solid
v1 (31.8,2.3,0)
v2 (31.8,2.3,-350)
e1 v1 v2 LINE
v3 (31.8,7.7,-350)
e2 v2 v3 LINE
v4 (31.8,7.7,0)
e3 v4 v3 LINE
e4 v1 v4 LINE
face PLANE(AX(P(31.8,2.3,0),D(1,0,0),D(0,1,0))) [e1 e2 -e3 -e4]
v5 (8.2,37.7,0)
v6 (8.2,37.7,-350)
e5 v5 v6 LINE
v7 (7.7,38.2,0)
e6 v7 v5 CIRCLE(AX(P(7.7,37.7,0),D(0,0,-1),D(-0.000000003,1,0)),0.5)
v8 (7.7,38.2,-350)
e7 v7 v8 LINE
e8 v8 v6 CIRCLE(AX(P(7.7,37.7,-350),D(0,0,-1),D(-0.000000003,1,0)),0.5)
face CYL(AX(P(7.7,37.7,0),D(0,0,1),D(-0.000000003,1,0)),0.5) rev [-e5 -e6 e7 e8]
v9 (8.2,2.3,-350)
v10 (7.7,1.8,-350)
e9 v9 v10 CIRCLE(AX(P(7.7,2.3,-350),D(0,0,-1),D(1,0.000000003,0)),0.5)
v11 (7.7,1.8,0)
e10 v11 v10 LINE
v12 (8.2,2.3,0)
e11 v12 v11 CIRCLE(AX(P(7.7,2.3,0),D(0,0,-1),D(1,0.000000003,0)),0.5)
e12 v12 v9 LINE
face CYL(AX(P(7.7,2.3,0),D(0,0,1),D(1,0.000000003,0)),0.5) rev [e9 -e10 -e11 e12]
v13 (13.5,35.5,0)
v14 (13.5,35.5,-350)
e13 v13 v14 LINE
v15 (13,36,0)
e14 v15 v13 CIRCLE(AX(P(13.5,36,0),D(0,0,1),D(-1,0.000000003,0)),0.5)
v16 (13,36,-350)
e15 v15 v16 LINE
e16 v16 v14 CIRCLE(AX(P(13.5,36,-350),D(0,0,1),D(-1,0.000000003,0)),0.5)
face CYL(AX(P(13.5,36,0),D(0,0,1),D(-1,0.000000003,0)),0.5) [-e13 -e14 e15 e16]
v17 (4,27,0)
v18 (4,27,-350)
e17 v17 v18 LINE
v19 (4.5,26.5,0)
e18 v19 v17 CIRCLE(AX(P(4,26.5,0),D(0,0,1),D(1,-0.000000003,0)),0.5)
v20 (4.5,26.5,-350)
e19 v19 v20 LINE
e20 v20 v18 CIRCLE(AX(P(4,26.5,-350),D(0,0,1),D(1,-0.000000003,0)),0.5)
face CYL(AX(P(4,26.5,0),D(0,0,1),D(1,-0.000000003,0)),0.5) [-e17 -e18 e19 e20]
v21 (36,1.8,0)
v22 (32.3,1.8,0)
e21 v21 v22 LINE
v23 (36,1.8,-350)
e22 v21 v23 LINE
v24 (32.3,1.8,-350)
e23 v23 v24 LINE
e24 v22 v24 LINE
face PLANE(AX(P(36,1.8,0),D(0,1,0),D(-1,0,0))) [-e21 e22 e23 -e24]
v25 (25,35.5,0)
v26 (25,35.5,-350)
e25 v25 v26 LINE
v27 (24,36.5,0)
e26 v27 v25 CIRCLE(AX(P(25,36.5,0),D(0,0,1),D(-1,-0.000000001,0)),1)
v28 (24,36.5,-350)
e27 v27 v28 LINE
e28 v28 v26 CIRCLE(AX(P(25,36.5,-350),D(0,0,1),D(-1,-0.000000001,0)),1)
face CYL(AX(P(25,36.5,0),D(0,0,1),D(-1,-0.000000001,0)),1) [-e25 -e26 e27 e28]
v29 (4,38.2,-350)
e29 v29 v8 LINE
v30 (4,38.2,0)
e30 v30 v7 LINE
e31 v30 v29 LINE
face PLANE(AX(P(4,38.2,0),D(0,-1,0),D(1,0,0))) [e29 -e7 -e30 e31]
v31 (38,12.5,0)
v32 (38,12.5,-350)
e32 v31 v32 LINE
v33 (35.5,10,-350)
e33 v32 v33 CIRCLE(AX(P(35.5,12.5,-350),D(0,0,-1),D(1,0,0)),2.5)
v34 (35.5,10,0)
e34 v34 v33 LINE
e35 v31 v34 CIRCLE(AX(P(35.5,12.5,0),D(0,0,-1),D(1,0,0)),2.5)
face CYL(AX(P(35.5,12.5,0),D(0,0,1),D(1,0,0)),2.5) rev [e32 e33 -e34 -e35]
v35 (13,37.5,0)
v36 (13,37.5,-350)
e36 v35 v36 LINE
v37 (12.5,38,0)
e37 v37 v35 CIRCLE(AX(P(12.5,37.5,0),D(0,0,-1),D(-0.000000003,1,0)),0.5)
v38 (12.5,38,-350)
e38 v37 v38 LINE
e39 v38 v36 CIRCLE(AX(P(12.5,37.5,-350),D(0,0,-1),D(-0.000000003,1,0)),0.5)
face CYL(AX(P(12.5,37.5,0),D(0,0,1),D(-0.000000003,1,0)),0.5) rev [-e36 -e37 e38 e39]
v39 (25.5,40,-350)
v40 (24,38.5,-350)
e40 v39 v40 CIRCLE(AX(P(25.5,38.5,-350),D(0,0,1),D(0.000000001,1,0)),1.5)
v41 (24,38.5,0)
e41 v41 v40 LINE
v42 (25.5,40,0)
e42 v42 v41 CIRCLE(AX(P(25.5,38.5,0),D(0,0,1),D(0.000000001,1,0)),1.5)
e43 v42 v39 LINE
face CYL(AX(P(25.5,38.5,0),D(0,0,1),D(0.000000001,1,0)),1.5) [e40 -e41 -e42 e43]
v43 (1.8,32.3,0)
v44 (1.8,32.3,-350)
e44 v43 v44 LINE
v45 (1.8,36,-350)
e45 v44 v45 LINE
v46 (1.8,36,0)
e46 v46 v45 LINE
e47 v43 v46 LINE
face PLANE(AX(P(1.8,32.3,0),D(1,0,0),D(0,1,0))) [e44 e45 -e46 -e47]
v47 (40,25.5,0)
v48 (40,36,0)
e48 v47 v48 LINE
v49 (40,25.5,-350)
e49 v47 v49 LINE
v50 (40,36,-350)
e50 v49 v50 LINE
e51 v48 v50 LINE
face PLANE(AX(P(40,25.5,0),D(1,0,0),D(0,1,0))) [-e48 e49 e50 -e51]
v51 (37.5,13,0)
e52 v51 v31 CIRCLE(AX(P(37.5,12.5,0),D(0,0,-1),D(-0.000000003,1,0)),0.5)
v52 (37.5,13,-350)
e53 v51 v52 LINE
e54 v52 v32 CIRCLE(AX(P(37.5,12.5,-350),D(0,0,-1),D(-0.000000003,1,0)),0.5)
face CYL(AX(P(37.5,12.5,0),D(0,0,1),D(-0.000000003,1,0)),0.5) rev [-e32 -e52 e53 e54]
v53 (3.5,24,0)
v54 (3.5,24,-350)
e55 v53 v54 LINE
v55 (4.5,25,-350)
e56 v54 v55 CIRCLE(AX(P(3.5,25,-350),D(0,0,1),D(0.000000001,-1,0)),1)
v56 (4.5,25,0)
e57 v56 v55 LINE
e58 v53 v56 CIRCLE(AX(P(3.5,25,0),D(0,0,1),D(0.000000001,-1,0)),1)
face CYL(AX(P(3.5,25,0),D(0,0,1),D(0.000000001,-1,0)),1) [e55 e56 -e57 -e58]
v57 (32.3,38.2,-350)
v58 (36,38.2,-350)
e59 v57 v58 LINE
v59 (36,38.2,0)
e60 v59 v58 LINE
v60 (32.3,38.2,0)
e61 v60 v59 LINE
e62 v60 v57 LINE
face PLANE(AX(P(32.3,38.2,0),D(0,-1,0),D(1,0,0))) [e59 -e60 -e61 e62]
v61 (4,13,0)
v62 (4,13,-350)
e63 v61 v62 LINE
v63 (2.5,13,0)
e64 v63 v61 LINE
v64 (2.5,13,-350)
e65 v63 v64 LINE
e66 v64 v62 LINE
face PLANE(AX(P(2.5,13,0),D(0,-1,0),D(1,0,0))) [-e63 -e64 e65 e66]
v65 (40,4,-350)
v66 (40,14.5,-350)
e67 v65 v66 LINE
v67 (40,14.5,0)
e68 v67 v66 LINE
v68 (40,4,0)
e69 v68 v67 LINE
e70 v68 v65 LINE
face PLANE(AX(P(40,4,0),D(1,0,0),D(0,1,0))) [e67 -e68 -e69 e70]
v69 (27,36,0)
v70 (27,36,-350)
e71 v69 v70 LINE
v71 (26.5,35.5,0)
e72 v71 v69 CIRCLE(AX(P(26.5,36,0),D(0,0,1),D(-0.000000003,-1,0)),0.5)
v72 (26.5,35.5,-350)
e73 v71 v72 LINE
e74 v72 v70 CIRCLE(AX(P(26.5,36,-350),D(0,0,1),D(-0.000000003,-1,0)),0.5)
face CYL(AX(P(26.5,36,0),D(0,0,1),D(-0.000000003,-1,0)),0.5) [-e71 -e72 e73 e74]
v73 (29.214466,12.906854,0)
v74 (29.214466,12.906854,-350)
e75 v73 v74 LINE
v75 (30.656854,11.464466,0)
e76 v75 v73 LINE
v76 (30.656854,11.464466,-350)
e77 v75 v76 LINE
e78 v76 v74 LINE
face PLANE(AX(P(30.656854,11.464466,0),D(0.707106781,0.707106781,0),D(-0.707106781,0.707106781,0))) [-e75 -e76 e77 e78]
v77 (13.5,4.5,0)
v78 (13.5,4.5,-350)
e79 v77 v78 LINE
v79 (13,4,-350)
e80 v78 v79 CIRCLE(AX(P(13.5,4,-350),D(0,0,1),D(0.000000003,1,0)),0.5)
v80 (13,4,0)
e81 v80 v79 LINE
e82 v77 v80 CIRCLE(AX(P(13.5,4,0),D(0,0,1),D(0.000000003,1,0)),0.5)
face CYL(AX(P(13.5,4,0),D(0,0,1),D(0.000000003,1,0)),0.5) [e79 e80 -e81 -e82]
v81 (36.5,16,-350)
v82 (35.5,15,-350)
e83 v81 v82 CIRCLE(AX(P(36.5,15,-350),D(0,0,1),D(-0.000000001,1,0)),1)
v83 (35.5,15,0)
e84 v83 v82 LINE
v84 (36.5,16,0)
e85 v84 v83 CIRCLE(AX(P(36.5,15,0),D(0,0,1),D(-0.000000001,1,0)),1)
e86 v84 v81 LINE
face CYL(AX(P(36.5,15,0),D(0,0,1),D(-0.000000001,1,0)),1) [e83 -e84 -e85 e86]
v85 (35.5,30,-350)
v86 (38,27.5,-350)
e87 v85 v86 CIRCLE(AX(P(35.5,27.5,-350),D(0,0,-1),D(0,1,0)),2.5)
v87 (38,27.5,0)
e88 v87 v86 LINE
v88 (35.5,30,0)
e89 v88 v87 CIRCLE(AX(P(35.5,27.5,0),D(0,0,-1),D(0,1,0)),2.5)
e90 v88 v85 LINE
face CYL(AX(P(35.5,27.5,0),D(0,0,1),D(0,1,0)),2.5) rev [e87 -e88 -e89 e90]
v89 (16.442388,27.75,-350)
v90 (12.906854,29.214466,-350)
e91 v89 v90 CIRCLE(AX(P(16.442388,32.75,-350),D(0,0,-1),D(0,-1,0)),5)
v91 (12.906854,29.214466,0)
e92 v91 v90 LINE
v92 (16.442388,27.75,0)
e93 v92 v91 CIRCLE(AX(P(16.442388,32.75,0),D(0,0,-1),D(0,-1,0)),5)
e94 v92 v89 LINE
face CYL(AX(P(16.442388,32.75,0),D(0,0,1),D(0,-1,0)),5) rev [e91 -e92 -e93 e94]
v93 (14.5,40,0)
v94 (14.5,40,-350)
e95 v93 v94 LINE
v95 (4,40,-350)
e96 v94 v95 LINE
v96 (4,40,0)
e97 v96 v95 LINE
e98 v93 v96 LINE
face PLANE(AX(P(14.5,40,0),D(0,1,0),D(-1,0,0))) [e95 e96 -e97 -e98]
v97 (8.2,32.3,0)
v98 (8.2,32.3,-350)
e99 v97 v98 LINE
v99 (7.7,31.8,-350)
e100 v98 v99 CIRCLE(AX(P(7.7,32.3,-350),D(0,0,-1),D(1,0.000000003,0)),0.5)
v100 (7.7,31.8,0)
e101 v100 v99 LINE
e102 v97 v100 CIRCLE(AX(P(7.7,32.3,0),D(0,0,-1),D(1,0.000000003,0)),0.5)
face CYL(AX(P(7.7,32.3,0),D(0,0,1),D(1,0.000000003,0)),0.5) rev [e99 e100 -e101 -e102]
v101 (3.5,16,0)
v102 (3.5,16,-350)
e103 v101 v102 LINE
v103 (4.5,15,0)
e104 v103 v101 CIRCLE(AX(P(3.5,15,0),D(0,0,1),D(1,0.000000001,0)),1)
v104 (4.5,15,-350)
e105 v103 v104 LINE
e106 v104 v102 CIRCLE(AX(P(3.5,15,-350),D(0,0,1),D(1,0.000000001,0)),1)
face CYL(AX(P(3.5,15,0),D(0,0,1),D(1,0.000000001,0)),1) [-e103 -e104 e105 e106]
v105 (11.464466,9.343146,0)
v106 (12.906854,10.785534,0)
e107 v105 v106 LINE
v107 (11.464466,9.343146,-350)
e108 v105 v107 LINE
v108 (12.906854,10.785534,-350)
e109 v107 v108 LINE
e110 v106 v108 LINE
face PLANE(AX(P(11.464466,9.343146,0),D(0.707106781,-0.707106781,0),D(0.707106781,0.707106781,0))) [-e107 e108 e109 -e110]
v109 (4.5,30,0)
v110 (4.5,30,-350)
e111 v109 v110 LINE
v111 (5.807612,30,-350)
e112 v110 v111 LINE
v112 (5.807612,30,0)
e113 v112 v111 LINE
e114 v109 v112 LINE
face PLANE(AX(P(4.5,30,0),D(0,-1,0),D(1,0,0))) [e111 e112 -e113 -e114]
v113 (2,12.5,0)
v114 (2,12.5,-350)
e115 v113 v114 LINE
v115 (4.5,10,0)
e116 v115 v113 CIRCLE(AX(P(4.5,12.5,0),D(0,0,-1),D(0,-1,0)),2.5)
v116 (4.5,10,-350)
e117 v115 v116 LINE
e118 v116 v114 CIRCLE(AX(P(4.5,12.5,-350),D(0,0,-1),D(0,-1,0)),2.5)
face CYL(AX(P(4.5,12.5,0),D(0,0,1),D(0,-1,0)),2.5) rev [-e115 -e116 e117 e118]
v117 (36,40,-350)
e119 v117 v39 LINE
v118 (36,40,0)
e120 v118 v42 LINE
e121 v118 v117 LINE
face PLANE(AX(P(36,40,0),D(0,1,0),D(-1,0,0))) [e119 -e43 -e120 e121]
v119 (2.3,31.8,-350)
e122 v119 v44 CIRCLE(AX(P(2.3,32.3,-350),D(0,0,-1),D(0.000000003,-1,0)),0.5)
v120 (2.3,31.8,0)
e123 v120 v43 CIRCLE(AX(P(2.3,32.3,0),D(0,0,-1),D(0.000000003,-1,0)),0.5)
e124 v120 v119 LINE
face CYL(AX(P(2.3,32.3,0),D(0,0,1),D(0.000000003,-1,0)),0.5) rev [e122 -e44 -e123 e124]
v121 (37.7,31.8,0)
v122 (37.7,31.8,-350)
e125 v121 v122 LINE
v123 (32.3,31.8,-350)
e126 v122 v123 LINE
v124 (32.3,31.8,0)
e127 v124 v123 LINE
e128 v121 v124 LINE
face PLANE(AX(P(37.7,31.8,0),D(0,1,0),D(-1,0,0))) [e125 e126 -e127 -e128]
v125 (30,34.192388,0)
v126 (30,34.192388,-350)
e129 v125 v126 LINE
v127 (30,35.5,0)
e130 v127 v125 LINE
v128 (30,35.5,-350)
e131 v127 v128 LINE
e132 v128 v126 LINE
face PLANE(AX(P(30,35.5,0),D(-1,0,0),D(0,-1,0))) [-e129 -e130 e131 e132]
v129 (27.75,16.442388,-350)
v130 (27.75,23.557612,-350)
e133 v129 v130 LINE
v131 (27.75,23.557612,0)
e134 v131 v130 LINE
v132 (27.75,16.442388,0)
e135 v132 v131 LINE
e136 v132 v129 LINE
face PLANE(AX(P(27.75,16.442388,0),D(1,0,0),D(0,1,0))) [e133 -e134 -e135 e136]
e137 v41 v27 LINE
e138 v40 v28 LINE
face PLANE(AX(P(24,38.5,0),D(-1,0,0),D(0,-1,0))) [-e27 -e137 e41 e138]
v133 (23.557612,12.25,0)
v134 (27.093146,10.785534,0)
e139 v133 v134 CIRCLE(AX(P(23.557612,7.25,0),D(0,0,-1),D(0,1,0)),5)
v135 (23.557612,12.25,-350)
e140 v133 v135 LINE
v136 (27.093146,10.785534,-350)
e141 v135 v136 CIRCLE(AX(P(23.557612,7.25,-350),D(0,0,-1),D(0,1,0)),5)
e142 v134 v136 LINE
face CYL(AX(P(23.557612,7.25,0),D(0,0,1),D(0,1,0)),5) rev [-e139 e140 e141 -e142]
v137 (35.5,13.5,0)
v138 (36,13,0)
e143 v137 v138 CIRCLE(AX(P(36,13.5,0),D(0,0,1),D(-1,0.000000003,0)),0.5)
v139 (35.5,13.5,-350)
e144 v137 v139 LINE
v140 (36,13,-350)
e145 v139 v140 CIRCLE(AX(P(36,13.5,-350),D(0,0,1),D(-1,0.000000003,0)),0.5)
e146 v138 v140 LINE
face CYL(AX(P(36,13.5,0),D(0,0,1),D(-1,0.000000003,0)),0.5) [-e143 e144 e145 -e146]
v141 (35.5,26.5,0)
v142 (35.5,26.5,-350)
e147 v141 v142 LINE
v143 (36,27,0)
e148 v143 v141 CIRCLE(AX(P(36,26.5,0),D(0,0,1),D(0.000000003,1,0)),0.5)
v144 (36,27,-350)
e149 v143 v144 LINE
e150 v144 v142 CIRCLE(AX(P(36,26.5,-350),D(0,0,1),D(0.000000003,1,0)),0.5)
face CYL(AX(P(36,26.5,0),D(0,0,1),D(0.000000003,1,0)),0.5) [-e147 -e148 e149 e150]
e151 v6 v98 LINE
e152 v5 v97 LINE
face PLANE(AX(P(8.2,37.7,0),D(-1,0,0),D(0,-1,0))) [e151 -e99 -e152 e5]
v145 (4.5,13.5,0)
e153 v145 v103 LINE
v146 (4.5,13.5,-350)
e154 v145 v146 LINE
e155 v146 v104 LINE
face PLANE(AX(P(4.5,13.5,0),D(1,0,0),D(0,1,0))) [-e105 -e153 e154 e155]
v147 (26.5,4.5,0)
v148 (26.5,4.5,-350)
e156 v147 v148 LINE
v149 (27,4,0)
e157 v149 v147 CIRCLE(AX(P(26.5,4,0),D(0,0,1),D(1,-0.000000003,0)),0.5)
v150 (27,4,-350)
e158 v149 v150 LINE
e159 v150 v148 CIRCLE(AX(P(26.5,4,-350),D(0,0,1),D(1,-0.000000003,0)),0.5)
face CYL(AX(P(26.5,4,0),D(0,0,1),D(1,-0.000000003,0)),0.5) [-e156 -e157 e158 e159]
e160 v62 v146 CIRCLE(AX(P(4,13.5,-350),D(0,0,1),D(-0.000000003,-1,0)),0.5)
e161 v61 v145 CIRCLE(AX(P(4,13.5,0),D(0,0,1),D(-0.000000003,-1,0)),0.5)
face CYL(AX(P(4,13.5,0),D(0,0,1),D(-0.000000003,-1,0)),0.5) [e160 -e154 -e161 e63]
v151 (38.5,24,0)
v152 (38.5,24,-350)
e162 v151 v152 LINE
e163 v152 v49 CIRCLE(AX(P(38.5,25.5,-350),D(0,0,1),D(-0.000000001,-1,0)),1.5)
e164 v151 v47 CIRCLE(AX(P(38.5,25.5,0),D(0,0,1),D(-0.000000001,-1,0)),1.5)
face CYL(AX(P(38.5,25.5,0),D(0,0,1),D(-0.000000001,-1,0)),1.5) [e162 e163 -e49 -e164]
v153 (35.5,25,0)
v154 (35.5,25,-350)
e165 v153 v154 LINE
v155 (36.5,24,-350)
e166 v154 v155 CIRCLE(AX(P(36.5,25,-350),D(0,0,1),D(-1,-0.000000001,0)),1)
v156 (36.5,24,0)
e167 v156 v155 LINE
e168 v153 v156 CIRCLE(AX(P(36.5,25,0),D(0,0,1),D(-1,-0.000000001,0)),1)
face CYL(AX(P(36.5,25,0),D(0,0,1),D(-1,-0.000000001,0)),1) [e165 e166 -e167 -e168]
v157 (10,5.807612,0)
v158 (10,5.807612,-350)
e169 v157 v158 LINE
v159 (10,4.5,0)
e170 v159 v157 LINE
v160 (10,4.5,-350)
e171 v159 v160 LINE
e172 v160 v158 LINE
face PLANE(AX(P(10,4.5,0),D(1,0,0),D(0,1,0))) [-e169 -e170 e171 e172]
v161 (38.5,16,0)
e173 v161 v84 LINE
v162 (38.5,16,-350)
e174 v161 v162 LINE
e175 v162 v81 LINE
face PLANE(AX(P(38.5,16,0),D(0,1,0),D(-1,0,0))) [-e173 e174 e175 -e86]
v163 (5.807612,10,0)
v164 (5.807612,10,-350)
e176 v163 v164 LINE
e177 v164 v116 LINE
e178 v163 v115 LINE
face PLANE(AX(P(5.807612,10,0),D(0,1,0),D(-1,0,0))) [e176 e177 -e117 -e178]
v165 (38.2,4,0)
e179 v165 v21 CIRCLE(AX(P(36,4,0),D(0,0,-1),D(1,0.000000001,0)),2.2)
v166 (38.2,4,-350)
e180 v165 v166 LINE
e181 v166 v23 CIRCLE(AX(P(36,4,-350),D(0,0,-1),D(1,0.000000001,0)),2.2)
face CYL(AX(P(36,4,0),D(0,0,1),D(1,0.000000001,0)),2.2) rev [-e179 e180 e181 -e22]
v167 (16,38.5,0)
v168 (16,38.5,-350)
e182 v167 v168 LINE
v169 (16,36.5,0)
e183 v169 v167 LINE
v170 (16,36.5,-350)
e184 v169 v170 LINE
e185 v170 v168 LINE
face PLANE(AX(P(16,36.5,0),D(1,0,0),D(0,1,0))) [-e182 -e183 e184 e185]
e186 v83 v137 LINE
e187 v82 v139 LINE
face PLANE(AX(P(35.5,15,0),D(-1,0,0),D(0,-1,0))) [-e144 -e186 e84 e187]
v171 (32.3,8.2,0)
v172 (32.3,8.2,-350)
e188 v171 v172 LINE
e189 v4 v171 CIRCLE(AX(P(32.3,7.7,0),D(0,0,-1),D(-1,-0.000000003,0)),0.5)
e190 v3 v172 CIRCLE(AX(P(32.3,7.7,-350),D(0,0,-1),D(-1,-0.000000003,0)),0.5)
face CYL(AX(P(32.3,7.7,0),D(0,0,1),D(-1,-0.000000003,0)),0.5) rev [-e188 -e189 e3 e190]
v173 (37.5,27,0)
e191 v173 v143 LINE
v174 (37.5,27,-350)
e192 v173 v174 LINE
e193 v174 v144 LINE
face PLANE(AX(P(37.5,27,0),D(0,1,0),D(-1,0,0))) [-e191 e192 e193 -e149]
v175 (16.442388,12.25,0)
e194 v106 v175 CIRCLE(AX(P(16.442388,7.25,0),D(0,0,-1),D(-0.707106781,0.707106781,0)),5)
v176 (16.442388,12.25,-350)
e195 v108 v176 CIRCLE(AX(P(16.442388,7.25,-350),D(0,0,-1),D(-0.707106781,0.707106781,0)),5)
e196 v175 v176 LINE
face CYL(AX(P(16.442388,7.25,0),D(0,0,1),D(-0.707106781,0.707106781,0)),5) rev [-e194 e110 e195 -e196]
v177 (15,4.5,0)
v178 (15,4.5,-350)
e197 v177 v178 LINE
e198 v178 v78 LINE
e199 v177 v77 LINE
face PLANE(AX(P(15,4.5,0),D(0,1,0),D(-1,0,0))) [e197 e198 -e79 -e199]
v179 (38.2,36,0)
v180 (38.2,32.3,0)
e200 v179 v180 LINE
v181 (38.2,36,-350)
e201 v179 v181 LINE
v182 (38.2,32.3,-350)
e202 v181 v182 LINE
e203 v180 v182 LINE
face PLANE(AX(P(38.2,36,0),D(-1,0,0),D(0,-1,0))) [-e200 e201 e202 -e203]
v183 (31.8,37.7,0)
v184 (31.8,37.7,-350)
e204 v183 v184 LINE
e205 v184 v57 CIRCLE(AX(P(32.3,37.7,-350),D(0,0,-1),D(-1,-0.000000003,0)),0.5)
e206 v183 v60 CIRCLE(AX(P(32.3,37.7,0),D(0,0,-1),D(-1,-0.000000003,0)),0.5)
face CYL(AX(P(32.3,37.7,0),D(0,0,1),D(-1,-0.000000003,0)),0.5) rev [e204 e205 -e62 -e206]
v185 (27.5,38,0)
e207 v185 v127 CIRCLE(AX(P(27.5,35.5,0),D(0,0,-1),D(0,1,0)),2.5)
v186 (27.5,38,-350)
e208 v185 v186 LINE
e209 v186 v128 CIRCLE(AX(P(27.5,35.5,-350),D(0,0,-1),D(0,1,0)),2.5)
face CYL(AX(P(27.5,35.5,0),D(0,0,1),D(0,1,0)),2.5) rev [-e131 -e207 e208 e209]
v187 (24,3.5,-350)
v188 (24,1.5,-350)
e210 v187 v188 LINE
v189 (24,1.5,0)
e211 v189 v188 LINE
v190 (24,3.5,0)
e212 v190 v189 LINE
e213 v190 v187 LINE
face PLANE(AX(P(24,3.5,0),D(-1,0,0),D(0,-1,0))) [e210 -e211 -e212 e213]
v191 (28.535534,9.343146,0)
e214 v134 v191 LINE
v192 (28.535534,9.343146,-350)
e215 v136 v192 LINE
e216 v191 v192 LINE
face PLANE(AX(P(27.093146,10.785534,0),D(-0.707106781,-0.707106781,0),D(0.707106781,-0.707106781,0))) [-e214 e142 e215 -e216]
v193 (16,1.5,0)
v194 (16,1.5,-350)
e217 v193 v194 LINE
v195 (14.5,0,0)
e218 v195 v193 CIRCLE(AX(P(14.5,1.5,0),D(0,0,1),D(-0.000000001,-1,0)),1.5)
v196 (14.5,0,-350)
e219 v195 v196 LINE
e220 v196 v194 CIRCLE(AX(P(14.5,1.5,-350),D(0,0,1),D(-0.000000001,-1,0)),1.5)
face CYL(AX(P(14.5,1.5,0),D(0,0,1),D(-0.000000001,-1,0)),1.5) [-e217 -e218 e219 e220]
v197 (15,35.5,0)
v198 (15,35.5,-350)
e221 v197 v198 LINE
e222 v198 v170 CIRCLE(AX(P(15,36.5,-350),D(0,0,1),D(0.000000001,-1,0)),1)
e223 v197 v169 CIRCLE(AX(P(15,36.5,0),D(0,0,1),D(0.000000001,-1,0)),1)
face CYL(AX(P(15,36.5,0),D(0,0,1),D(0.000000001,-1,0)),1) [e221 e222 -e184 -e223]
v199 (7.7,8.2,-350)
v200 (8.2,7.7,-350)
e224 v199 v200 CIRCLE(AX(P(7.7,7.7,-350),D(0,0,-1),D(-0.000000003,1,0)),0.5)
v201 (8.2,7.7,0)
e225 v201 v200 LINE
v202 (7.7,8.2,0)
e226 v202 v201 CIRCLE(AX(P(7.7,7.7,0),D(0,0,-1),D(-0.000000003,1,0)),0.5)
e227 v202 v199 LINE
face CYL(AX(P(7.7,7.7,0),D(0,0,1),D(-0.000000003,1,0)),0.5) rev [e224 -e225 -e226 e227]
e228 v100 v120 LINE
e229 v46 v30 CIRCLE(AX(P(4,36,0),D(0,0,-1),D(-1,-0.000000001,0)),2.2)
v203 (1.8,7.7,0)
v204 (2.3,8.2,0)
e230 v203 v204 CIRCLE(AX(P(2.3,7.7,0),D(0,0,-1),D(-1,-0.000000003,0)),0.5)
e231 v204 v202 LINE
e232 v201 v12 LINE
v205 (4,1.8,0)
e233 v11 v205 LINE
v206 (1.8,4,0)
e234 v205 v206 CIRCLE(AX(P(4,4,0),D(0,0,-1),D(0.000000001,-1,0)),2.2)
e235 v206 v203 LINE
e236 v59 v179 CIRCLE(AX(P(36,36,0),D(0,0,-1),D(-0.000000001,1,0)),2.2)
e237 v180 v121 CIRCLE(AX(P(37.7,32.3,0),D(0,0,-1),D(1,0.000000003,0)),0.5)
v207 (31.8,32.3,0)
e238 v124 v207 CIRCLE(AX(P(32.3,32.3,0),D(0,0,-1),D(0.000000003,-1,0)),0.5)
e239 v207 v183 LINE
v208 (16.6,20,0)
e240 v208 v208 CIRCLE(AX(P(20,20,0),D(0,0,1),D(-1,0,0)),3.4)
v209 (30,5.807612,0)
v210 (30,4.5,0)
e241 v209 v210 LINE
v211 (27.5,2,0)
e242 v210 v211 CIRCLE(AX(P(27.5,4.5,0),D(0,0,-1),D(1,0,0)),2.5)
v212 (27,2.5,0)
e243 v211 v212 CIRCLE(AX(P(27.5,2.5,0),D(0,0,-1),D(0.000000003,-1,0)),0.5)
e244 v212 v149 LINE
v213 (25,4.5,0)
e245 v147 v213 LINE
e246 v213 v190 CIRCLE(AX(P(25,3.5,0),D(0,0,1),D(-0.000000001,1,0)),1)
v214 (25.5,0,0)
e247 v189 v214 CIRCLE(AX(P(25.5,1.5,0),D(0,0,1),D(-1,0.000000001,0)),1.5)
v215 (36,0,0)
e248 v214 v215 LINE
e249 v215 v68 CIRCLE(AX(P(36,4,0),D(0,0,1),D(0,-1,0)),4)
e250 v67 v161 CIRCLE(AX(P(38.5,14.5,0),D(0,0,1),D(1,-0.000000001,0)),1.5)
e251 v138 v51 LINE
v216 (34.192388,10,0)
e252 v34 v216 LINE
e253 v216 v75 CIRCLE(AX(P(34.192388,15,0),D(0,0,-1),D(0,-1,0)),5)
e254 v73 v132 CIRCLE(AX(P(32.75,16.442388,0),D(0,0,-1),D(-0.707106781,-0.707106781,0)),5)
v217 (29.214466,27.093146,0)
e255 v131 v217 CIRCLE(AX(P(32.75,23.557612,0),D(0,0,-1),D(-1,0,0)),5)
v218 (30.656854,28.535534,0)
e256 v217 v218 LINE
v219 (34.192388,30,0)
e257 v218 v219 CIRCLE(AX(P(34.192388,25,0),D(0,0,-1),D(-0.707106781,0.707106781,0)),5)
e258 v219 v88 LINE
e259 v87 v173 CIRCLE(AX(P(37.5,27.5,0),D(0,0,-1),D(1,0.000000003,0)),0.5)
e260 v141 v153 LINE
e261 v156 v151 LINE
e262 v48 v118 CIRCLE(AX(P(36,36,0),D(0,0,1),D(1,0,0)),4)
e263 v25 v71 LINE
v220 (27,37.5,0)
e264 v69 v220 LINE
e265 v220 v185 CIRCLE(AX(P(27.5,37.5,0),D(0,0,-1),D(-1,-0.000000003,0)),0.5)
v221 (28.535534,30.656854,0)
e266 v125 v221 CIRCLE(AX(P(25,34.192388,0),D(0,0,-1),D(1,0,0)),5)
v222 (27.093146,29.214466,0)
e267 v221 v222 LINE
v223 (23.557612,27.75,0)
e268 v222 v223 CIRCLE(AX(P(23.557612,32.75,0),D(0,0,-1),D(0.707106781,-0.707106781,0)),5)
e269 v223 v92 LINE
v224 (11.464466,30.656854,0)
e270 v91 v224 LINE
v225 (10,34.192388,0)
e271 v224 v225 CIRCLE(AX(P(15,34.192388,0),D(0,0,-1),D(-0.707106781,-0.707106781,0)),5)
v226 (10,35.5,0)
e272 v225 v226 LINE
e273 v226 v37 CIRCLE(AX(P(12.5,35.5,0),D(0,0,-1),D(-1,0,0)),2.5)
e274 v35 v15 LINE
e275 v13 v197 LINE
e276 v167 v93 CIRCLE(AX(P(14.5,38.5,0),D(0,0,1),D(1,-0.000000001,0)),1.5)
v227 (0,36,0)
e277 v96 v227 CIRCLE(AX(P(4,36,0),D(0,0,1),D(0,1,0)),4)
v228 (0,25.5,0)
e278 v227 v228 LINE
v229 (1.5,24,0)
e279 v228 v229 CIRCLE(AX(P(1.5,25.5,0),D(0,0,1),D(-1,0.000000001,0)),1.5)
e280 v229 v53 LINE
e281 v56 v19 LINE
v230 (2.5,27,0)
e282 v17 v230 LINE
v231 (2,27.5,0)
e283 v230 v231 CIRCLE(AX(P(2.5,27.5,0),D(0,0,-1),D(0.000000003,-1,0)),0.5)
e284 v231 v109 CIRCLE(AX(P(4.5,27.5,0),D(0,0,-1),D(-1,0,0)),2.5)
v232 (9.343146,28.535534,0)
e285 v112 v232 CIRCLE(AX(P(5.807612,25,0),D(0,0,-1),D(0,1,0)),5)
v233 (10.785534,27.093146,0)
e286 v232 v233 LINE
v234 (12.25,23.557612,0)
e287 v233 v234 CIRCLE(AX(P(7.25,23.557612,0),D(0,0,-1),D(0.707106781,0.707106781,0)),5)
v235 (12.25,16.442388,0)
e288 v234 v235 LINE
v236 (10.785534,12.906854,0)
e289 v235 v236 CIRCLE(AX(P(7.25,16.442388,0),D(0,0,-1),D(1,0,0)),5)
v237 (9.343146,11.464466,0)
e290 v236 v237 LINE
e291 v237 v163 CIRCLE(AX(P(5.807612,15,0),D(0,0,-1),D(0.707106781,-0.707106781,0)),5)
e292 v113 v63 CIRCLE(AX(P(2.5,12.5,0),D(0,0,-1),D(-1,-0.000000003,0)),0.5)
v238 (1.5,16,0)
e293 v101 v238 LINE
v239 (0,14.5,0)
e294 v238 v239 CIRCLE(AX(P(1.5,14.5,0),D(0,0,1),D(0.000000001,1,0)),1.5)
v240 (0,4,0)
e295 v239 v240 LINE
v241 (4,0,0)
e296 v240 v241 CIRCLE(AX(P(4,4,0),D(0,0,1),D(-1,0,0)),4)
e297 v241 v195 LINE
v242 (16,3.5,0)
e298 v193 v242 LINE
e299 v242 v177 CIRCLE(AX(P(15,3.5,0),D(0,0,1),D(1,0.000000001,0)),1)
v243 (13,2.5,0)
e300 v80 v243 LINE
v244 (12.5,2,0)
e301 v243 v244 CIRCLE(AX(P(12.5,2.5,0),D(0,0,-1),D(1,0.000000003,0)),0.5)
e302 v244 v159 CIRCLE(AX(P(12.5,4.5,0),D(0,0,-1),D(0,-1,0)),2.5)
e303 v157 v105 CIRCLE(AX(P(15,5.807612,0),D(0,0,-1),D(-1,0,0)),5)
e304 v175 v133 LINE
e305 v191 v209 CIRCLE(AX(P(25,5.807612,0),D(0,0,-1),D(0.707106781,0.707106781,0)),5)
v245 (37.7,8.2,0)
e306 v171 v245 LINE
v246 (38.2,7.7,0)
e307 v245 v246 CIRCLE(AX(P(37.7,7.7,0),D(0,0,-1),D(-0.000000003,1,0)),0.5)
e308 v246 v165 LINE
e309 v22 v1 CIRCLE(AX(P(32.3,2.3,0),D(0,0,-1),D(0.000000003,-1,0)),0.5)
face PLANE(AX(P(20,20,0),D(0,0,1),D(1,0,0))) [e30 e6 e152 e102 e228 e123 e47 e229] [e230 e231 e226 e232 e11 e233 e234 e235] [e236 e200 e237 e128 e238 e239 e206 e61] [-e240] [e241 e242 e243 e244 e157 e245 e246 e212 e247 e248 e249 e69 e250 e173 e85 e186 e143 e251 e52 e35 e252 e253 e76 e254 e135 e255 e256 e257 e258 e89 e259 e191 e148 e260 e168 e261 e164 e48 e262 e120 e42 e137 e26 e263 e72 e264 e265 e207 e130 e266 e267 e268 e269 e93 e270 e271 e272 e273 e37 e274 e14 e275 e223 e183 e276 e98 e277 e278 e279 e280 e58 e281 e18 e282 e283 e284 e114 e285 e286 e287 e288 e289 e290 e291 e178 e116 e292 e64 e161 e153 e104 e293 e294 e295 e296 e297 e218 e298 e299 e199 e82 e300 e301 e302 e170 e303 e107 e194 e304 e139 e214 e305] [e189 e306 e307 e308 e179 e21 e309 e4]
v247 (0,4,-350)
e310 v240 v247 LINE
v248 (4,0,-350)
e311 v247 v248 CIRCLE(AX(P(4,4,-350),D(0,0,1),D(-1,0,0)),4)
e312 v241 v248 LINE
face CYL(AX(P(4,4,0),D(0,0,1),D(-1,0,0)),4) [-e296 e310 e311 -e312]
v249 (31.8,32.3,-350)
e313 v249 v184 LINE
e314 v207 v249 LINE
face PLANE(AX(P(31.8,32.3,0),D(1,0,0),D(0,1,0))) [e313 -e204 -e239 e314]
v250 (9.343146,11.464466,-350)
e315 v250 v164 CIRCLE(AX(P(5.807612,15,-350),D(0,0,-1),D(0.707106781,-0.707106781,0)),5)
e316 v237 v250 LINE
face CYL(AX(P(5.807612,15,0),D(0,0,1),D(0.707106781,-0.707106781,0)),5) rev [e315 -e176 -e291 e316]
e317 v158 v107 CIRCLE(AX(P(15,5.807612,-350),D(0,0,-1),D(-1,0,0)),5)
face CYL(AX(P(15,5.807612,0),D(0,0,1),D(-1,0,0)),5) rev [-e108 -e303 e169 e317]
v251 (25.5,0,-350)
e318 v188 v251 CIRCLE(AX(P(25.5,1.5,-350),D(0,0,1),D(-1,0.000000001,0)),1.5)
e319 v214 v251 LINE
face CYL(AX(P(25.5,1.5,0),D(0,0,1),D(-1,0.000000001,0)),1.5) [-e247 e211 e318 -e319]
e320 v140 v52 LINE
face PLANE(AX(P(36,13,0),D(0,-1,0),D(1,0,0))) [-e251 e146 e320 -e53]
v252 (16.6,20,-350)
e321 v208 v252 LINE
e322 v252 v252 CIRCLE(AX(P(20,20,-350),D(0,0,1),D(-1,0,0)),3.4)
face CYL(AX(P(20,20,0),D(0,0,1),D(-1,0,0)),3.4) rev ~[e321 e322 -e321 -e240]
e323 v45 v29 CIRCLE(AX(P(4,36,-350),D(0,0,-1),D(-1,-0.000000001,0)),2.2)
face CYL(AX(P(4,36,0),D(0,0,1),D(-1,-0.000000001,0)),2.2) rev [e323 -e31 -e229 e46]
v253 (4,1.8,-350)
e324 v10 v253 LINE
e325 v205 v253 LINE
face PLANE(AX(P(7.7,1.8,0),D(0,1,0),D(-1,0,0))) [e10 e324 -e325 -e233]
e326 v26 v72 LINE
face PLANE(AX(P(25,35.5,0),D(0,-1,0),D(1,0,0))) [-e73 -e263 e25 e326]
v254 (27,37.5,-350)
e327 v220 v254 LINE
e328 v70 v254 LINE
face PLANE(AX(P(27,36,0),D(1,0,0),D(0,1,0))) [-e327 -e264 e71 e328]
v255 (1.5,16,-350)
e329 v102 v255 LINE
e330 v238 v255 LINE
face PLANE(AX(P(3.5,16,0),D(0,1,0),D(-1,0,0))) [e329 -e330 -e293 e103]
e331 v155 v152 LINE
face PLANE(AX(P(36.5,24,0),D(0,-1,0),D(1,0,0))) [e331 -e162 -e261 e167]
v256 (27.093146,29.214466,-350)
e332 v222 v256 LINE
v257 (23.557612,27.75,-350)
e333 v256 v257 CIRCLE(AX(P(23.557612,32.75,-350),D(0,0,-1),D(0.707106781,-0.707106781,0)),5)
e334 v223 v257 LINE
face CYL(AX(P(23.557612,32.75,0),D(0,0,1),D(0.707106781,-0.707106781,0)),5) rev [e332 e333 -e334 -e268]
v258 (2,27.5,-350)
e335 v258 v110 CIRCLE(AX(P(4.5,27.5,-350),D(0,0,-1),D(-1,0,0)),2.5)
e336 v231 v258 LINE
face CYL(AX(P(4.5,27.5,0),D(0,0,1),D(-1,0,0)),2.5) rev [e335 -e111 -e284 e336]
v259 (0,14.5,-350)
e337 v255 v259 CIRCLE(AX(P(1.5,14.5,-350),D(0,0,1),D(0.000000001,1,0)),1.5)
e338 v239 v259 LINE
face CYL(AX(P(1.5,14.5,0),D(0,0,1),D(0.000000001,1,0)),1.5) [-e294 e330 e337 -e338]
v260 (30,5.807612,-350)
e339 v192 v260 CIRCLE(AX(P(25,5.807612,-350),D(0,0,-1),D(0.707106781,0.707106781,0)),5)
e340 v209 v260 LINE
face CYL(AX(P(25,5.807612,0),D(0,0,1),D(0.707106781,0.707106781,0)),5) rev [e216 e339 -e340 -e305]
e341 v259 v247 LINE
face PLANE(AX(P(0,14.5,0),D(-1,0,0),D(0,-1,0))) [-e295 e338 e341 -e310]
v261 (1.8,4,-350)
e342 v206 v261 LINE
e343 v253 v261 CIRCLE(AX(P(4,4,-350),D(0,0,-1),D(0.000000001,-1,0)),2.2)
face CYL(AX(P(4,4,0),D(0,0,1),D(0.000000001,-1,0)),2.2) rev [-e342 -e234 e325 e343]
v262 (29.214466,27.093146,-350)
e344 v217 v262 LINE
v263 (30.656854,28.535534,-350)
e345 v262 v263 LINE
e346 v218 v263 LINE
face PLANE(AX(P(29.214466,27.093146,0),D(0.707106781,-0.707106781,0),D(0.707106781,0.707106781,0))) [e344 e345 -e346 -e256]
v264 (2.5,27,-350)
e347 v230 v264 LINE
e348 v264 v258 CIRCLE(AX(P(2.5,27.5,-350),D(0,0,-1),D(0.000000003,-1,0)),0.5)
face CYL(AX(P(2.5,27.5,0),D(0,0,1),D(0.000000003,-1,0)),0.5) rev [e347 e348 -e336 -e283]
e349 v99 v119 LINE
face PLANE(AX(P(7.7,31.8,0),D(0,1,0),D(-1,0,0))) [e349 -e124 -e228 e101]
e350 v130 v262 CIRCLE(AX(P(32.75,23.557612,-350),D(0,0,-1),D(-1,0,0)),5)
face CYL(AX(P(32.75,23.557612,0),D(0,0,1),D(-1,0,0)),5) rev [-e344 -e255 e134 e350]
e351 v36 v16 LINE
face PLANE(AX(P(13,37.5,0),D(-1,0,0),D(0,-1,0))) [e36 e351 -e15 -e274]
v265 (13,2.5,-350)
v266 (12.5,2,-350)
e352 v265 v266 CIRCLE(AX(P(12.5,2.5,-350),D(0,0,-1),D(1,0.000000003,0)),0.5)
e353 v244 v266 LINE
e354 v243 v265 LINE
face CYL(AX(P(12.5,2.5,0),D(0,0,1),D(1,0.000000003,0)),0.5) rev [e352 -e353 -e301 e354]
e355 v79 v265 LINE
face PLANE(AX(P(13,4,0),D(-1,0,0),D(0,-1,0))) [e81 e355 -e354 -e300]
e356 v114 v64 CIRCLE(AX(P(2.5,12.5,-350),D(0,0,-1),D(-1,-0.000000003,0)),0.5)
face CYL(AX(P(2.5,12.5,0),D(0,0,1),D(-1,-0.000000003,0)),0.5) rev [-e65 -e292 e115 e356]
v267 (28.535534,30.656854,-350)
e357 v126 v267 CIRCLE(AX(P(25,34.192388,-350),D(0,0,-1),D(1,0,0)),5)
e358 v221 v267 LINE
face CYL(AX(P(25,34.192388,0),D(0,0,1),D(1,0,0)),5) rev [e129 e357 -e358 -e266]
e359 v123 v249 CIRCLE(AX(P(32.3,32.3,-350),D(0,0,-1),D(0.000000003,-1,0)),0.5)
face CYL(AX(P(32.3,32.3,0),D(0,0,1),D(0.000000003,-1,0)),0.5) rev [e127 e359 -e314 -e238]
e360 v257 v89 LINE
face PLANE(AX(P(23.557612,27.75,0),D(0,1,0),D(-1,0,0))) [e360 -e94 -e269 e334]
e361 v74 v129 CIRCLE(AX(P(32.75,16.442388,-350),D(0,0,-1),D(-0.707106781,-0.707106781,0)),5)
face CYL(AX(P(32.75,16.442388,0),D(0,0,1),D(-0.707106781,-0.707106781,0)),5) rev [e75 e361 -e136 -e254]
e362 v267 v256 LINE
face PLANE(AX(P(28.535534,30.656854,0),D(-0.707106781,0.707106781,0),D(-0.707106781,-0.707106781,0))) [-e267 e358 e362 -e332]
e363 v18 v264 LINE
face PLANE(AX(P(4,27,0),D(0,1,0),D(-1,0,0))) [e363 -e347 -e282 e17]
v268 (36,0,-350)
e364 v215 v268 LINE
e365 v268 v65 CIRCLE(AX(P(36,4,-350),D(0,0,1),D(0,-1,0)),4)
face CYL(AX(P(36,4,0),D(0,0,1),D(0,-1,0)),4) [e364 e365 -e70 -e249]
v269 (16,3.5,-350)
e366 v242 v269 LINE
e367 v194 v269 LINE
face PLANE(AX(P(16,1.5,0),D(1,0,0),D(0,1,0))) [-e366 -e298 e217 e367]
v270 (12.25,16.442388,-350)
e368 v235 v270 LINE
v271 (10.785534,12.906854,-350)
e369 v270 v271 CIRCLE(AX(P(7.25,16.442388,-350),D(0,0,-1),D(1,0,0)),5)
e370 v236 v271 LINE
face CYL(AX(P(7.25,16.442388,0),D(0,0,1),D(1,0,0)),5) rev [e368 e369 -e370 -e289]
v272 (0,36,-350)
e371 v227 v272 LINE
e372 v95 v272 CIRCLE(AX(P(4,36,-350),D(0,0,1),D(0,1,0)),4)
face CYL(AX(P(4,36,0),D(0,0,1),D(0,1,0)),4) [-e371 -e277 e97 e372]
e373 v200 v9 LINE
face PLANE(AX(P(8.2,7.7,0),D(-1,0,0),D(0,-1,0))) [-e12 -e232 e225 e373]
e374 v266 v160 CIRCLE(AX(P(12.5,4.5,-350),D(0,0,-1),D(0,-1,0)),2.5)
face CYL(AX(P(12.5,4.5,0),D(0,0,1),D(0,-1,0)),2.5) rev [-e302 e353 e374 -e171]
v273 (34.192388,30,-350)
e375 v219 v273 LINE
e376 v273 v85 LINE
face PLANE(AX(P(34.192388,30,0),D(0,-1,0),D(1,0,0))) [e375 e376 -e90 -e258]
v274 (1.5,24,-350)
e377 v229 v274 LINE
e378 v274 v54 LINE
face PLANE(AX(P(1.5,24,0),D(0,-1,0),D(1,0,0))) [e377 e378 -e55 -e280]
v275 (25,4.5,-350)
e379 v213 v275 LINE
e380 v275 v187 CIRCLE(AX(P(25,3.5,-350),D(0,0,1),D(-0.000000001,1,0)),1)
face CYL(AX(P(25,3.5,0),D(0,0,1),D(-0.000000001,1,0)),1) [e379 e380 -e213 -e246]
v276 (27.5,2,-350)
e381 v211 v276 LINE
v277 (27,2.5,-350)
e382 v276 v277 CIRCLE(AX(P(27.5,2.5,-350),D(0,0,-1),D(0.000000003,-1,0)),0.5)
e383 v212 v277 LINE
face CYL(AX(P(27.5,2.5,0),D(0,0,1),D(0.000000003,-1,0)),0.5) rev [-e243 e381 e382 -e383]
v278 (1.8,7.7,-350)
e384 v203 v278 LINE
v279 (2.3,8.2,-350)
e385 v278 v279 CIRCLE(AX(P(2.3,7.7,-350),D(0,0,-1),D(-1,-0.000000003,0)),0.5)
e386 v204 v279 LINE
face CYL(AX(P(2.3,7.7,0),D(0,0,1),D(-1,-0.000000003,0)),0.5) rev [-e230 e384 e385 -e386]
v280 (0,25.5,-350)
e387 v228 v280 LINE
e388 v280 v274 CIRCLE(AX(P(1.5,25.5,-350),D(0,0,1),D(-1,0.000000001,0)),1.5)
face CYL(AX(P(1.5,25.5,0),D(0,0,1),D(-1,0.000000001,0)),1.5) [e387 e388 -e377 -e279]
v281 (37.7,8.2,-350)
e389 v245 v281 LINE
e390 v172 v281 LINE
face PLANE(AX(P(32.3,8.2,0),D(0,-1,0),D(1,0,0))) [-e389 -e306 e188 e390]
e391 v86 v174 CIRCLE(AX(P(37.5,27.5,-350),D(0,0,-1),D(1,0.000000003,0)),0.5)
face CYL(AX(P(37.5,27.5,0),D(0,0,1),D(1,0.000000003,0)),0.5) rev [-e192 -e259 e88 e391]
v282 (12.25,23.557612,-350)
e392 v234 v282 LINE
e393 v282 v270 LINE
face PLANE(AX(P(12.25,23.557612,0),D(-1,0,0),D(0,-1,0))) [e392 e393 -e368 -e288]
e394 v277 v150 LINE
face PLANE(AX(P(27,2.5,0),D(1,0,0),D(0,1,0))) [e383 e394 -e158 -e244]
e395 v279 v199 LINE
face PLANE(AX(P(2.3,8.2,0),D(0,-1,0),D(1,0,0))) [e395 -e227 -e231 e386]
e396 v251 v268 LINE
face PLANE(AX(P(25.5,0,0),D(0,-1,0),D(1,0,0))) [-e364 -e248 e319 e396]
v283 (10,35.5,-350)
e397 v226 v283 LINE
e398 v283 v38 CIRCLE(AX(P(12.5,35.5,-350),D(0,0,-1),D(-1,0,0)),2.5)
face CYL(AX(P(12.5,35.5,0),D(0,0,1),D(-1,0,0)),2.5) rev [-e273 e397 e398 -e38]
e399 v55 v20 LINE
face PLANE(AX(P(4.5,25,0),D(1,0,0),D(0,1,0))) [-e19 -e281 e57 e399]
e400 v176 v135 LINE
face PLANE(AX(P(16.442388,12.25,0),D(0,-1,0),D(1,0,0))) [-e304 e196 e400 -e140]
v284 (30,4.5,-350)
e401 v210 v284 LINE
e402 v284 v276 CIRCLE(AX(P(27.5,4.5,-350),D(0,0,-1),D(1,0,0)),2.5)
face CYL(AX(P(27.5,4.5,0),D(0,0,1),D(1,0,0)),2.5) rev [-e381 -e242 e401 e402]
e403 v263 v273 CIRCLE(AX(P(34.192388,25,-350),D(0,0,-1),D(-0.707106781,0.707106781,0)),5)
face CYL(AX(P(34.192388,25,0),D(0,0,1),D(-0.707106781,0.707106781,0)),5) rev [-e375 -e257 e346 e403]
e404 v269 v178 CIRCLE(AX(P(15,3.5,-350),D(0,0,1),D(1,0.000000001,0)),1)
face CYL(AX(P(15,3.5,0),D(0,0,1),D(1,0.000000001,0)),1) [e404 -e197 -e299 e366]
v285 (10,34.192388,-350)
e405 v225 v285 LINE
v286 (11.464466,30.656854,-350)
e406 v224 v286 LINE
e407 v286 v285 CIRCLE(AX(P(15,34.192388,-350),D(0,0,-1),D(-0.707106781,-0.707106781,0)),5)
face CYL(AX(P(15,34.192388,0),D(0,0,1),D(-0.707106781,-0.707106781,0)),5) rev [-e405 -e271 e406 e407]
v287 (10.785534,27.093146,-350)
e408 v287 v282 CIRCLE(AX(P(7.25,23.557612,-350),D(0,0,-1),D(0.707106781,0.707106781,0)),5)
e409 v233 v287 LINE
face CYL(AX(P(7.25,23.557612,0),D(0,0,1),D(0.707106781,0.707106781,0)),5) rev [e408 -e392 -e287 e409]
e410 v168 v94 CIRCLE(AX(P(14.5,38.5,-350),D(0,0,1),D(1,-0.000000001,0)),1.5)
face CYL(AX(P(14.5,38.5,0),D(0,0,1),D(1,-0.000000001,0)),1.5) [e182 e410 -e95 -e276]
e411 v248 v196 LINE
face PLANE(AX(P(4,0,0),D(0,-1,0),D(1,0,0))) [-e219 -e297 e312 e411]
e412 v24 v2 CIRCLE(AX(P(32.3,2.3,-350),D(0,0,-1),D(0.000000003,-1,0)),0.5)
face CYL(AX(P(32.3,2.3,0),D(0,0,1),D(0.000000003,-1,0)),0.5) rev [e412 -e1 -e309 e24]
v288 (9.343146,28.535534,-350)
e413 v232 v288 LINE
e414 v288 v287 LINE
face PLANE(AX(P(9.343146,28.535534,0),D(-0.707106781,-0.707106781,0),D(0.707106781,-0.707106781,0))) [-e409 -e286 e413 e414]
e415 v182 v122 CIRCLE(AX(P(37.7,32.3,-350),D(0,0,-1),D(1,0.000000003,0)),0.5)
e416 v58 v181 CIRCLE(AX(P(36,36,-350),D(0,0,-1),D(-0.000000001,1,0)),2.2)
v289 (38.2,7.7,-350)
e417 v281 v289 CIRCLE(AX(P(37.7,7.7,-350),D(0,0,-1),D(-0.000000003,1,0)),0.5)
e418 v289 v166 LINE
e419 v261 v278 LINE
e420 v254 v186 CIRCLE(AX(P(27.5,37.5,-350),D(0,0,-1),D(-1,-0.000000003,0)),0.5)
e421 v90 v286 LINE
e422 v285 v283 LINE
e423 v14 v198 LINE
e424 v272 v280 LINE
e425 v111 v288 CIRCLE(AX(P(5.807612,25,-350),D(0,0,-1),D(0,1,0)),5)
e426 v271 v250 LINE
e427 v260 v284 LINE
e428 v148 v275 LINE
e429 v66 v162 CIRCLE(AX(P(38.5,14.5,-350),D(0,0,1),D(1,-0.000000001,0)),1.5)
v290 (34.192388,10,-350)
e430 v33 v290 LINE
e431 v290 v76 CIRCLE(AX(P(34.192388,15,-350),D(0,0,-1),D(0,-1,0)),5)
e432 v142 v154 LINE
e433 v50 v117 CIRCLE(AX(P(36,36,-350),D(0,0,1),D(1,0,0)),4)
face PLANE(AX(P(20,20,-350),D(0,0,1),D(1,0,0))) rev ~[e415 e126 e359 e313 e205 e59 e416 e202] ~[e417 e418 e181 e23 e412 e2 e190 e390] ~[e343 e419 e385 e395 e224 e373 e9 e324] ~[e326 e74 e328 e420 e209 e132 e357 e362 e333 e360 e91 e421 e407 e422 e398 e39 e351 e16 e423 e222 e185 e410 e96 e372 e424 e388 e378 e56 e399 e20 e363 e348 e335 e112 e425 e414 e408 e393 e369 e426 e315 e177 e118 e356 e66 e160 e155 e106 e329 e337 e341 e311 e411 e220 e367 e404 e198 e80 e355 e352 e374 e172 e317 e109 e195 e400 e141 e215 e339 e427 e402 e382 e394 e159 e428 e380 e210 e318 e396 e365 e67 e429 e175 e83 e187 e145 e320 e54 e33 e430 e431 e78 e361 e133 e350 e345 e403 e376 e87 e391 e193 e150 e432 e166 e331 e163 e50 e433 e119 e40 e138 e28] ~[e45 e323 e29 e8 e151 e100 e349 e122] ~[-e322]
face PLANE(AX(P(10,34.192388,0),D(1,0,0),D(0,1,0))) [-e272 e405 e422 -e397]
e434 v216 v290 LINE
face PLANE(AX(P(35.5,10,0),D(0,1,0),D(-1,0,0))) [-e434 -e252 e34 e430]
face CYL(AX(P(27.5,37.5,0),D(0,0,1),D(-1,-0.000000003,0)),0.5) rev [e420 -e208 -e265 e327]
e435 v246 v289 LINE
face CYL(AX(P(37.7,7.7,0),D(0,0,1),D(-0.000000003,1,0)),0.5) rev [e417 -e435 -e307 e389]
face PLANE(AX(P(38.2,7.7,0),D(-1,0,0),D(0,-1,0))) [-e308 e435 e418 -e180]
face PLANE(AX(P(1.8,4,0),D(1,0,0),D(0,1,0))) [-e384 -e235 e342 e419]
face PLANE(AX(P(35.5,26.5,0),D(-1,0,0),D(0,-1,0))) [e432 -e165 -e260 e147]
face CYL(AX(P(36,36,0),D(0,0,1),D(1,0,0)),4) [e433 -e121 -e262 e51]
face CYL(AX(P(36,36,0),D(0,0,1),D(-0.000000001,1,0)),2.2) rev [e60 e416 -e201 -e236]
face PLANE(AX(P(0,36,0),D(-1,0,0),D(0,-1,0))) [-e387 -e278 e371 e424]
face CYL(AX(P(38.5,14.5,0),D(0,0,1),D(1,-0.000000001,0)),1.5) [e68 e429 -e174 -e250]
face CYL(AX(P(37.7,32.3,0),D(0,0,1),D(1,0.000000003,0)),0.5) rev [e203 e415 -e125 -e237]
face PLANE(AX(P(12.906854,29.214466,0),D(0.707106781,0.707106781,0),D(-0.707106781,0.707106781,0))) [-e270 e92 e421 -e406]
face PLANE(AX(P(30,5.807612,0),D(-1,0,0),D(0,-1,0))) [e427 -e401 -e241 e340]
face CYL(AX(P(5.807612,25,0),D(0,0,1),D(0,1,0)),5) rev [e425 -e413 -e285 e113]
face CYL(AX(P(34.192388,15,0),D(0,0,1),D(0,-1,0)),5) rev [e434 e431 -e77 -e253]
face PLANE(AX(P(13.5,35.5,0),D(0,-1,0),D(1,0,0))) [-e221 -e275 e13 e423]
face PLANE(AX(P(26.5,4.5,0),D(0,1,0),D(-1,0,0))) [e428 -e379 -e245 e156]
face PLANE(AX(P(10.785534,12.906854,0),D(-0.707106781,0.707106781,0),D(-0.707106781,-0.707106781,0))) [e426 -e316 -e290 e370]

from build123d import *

# Parameters (mm, degrees)
SKETCH1_R           = 3.4
BOSS_EXTRUDE1_DEPTH = 350


with BuildPart() as part:
    # Sketch1 → Boss-Extrude1 (new body)
    with BuildSketch(Plane.XY):
        with BuildLine():
            Line((0, 36), (0, 25.5))
            ThreePointArc((0, 25.5), (0.439339828, 24.439339828), (1.5, 24))
            Line((1.5, 24), (3.5, 24))
            ThreePointArc((3.5, 24), (4.207106781, 24.292893219), (4.5, 25))
            Line((4.5, 25), (4.5, 26.5))
            ThreePointArc((4.5, 26.5), (4.353553391, 26.853553391), (4, 27))
            Line((4, 27), (2.5, 27))
            ThreePointArc((2.5, 27), (2.146446609, 27.146446609), (2, 27.5))
            ThreePointArc((2, 27.5), (2.732233047, 29.267766953), (4.5, 30))
            Line((4.5, 30), (5.807611845, 30))
            ThreePointArc((5.807611845, 30), (7.721029006, 29.619397663), (9.343145751, 28.535533906))
            Line((9.343145751, 28.535533906), (10.785533906, 27.093145751))
            ThreePointArc((10.785533906, 27.093145751), (11.869397663, 25.471029006), (12.25, 23.557611845))
            Line((12.25, 23.557611845), (12.25, 16.442388155))
            ThreePointArc((12.25, 16.442388155), (11.869397663, 14.528970994), (10.785533906, 12.906854249))
            Line((10.785533906, 12.906854249), (9.343145751, 11.464466094))
            ThreePointArc((9.343145751, 11.464466094), (7.721029006, 10.380602337), (5.807611845, 10))
            Line((5.807611845, 10), (4.5, 10))
            ThreePointArc((4.5, 10), (2.732233047, 10.732233047), (2, 12.5))
            ThreePointArc((2, 12.5), (2.146446609, 12.853553391), (2.5, 13))
            Line((2.5, 13), (4, 13))
            ThreePointArc((4, 13), (4.353553391, 13.146446609), (4.5, 13.5))
            Line((4.5, 13.5), (4.5, 15))
            ThreePointArc((4.5, 15), (4.207106781, 15.707106781), (3.5, 16))
            Line((3.5, 16), (1.5, 16))
            ThreePointArc((1.5, 16), (0.439339828, 15.560660172), (0, 14.5))
            Line((0, 14.5), (0, 4))
            ThreePointArc((0, 4), (1.171572875, 1.171572875), (4, 0))
            Line((4, 0), (14.5, 0))
            ThreePointArc((14.5, 0), (15.560660172, 0.439339828), (16, 1.5))
            Line((16, 1.5), (16, 3.5))
            ThreePointArc((16, 3.5), (15.707106781, 4.207106781), (15, 4.5))
            Line((15, 4.5), (13.5, 4.5))
            ThreePointArc((13.5, 4.5), (13.146446609, 4.353553391), (13, 4))
            Line((13, 4), (13, 2.5))
            ThreePointArc((13, 2.5), (12.853553391, 2.146446609), (12.5, 2))
            ThreePointArc((12.5, 2), (10.732233047, 2.732233047), (10, 4.5))
            Line((10, 4.5), (10, 5.807611845))
            ThreePointArc((10, 5.807611845), (10.380602337, 7.721029006), (11.464466094, 9.343145751))
            Line((11.464466094, 9.343145751), (12.906854249, 10.785533906))
            ThreePointArc((12.906854249, 10.785533906), (14.528970994, 11.869397663), (16.442388155, 12.25))
            Line((16.442388155, 12.25), (23.557611845, 12.25))
            ThreePointArc((23.557611845, 12.25), (25.471029006, 11.869397663), (27.093145751, 10.785533906))
            Line((27.093145751, 10.785533906), (28.535533906, 9.343145751))
            ThreePointArc((28.535533906, 9.343145751), (29.619397663, 7.721029006), (30, 5.807611845))
            Line((30, 5.807611845), (30, 4.5))
            ThreePointArc((30, 4.5), (29.267766953, 2.732233047), (27.5, 2))
            ThreePointArc((27.5, 2), (27.146446609, 2.146446609), (27, 2.5))
            Line((27, 2.5), (27, 4))
            ThreePointArc((27, 4), (26.853553391, 4.353553391), (26.5, 4.5))
            Line((26.5, 4.5), (25, 4.5))
            ThreePointArc((25, 4.5), (24.292893219, 4.207106781), (24, 3.5))
            Line((24, 3.5), (24, 1.5))
            ThreePointArc((24, 1.5), (24.439339828, 0.439339828), (25.5, 0))
            Line((25.5, 0), (36, 0))
            ThreePointArc((36, 0), (38.828427125, 1.171572875), (40, 4))
            Line((40, 4), (40, 14.5))
            ThreePointArc((40, 14.5), (39.560660172, 15.560660172), (38.5, 16))
            Line((38.5, 16), (36.5, 16))
            ThreePointArc((36.5, 16), (35.792893219, 15.707106781), (35.5, 15))
            Line((35.5, 15), (35.5, 13.5))
            ThreePointArc((35.5, 13.5), (35.646446609, 13.146446609), (36, 13))
            Line((36, 13), (37.5, 13))
            ThreePointArc((37.5, 13), (37.853553391, 12.853553391), (38, 12.5))
            ThreePointArc((38, 12.5), (37.267766953, 10.732233047), (35.5, 10))
            Line((35.5, 10), (34.192388155, 10))
            ThreePointArc((34.192388155, 10), (32.278970994, 10.380602337), (30.656854249, 11.464466094))
            Line((30.656854249, 11.464466094), (29.214466094, 12.906854249))
            ThreePointArc((29.214466094, 12.906854249), (28.130602337, 14.528970994), (27.75, 16.442388155))
            Line((27.75, 16.442388155), (27.75, 23.557611845))
            ThreePointArc((27.75, 23.557611845), (28.130602337, 25.471029006), (29.214466094, 27.093145751))
            Line((29.214466094, 27.093145751), (30.656854249, 28.535533906))
            ThreePointArc((30.656854249, 28.535533906), (32.278970994, 29.619397663), (34.192388155, 30))
            Line((34.192388155, 30), (35.5, 30))
            ThreePointArc((35.5, 30), (37.267766953, 29.267766953), (38, 27.5))
            ThreePointArc((38, 27.5), (37.853553391, 27.146446609), (37.5, 27))
            Line((37.5, 27), (36, 27))
            ThreePointArc((36, 27), (35.646446609, 26.853553391), (35.5, 26.5))
            Line((35.5, 26.5), (35.5, 25))
            ThreePointArc((35.5, 25), (35.792893219, 24.292893219), (36.5, 24))
            Line((36.5, 24), (38.5, 24))
            ThreePointArc((38.5, 24), (39.560660172, 24.439339828), (40, 25.5))
            Line((40, 25.5), (40, 36))
            ThreePointArc((40, 36), (38.828427125, 38.828427125), (36, 40))
            Line((36, 40), (25.5, 40))
            ThreePointArc((25.5, 40), (24.439339828, 39.560660172), (24, 38.5))
            Line((24, 38.5), (24, 36.5))
            ThreePointArc((24, 36.5), (24.292893219, 35.792893219), (25, 35.5))
            Line((25, 35.5), (26.5, 35.5))
            ThreePointArc((26.5, 35.5), (26.853553391, 35.646446609), (27, 36))
            Line((27, 36), (27, 37.5))
            ThreePointArc((27, 37.5), (27.146446609, 37.853553391), (27.5, 38))
            ThreePointArc((27.5, 38), (29.267766953, 37.267766953), (30, 35.5))
            Line((30, 35.5), (30, 34.192388155))
            ThreePointArc((30, 34.192388155), (29.619397663, 32.278970994), (28.535533906, 30.656854249))
            Line((28.535533906, 30.656854249), (27.093145751, 29.214466094))
            ThreePointArc((27.093145751, 29.214466094), (25.471029006, 28.130602337), (23.557611845, 27.75))
            Line((23.557611845, 27.75), (16.442388155, 27.75))
            ThreePointArc((16.442388155, 27.75), (14.528970994, 28.130602337), (12.906854249, 29.214466094))
            Line((12.906854249, 29.214466094), (11.464466094, 30.656854249))
            ThreePointArc((11.464466094, 30.656854249), (10.380602337, 32.278970994), (10, 34.192388155))
            Line((10, 34.192388155), (10, 35.5))
            ThreePointArc((10, 35.5), (10.732233047, 37.267766953), (12.5, 38))
            ThreePointArc((12.5, 38), (12.853553391, 37.853553391), (13, 37.5))
            Line((13, 37.5), (13, 36))
            ThreePointArc((13, 36), (13.146446609, 35.646446609), (13.5, 35.5))
            Line((13.5, 35.5), (15, 35.5))
            ThreePointArc((15, 35.5), (15.707106781, 35.792893219), (16, 36.5))
            Line((16, 36.5), (16, 38.5))
            ThreePointArc((16, 38.5), (15.560660172, 39.560660172), (14.5, 40))
            Line((14.5, 40), (4, 40))
            ThreePointArc((4, 40), (1.171572875, 38.828427125), (0, 36))
        make_face()
        with Locations(Location((20, 20, 0), (0, 0, 180))):
            Circle(SKETCH1_R, mode=Mode.SUBTRACT)
        with BuildLine():
            Line((1.8, 4), (1.8, 7.7))
            ThreePointArc((1.8, 7.7), (1.946446609, 8.053553391), (2.3, 8.2))
            Line((2.3, 8.2), (7.7, 8.2))
            ThreePointArc((7.7, 8.2), (8.053553391, 8.053553391), (8.2, 7.7))
            Line((8.2, 7.7), (8.2, 2.3))
            ThreePointArc((8.2, 2.3), (8.053553391, 1.946446609), (7.7, 1.8))
            Line((7.7, 1.8), (4, 1.8))
            ThreePointArc((4, 1.8), (2.444365081, 2.444365081), (1.8, 4))
        make_face(mode=Mode.SUBTRACT)
        with BuildLine():
            Line((4, 38.2), (7.7, 38.2))
            ThreePointArc((7.7, 38.2), (8.053553391, 38.053553391), (8.2, 37.7))
            Line((8.2, 37.7), (8.2, 32.3))
            ThreePointArc((8.2, 32.3), (8.053553391, 31.946446609), (7.7, 31.8))
            Line((7.7, 31.8), (2.3, 31.8))
            ThreePointArc((2.3, 31.8), (1.946446609, 31.946446609), (1.8, 32.3))
            Line((1.8, 32.3), (1.8, 36))
            ThreePointArc((1.8, 36), (2.444365081, 37.555634919), (4, 38.2))
        make_face(mode=Mode.SUBTRACT)
        with BuildLine():
            Line((31.8, 32.3), (31.8, 37.7))
            ThreePointArc((31.8, 37.7), (31.946446609, 38.053553391), (32.3, 38.2))
            Line((32.3, 38.2), (36, 38.2))
            ThreePointArc((36, 38.2), (37.555634919, 37.555634919), (38.2, 36))
            Line((38.2, 36), (38.2, 32.3))
            ThreePointArc((38.2, 32.3), (38.053553391, 31.946446609), (37.7, 31.8))
            Line((37.7, 31.8), (32.3, 31.8))
            ThreePointArc((32.3, 31.8), (31.946446609, 31.946446609), (31.8, 32.3))
        make_face(mode=Mode.SUBTRACT)
        with BuildLine():
            Line((32.3, 8.2), (37.7, 8.2))
            ThreePointArc((37.7, 8.2), (38.053553391, 8.053553391), (38.2, 7.7))
            Line((38.2, 7.7), (38.2, 4))
            ThreePointArc((38.2, 4), (37.555634919, 2.444365081), (36, 1.8))
            Line((36, 1.8), (32.3, 1.8))
            ThreePointArc((32.3, 1.8), (31.946446609, 1.946446609), (31.8, 2.3))
            Line((31.8, 2.3), (31.8, 7.7))
            ThreePointArc((31.8, 7.7), (31.946446609, 8.053553391), (32.3, 8.2))
        make_face(mode=Mode.SUBTRACT)
    extrude(amount=-BOSS_EXTRUDE1_DEPTH)


solid = part.part
